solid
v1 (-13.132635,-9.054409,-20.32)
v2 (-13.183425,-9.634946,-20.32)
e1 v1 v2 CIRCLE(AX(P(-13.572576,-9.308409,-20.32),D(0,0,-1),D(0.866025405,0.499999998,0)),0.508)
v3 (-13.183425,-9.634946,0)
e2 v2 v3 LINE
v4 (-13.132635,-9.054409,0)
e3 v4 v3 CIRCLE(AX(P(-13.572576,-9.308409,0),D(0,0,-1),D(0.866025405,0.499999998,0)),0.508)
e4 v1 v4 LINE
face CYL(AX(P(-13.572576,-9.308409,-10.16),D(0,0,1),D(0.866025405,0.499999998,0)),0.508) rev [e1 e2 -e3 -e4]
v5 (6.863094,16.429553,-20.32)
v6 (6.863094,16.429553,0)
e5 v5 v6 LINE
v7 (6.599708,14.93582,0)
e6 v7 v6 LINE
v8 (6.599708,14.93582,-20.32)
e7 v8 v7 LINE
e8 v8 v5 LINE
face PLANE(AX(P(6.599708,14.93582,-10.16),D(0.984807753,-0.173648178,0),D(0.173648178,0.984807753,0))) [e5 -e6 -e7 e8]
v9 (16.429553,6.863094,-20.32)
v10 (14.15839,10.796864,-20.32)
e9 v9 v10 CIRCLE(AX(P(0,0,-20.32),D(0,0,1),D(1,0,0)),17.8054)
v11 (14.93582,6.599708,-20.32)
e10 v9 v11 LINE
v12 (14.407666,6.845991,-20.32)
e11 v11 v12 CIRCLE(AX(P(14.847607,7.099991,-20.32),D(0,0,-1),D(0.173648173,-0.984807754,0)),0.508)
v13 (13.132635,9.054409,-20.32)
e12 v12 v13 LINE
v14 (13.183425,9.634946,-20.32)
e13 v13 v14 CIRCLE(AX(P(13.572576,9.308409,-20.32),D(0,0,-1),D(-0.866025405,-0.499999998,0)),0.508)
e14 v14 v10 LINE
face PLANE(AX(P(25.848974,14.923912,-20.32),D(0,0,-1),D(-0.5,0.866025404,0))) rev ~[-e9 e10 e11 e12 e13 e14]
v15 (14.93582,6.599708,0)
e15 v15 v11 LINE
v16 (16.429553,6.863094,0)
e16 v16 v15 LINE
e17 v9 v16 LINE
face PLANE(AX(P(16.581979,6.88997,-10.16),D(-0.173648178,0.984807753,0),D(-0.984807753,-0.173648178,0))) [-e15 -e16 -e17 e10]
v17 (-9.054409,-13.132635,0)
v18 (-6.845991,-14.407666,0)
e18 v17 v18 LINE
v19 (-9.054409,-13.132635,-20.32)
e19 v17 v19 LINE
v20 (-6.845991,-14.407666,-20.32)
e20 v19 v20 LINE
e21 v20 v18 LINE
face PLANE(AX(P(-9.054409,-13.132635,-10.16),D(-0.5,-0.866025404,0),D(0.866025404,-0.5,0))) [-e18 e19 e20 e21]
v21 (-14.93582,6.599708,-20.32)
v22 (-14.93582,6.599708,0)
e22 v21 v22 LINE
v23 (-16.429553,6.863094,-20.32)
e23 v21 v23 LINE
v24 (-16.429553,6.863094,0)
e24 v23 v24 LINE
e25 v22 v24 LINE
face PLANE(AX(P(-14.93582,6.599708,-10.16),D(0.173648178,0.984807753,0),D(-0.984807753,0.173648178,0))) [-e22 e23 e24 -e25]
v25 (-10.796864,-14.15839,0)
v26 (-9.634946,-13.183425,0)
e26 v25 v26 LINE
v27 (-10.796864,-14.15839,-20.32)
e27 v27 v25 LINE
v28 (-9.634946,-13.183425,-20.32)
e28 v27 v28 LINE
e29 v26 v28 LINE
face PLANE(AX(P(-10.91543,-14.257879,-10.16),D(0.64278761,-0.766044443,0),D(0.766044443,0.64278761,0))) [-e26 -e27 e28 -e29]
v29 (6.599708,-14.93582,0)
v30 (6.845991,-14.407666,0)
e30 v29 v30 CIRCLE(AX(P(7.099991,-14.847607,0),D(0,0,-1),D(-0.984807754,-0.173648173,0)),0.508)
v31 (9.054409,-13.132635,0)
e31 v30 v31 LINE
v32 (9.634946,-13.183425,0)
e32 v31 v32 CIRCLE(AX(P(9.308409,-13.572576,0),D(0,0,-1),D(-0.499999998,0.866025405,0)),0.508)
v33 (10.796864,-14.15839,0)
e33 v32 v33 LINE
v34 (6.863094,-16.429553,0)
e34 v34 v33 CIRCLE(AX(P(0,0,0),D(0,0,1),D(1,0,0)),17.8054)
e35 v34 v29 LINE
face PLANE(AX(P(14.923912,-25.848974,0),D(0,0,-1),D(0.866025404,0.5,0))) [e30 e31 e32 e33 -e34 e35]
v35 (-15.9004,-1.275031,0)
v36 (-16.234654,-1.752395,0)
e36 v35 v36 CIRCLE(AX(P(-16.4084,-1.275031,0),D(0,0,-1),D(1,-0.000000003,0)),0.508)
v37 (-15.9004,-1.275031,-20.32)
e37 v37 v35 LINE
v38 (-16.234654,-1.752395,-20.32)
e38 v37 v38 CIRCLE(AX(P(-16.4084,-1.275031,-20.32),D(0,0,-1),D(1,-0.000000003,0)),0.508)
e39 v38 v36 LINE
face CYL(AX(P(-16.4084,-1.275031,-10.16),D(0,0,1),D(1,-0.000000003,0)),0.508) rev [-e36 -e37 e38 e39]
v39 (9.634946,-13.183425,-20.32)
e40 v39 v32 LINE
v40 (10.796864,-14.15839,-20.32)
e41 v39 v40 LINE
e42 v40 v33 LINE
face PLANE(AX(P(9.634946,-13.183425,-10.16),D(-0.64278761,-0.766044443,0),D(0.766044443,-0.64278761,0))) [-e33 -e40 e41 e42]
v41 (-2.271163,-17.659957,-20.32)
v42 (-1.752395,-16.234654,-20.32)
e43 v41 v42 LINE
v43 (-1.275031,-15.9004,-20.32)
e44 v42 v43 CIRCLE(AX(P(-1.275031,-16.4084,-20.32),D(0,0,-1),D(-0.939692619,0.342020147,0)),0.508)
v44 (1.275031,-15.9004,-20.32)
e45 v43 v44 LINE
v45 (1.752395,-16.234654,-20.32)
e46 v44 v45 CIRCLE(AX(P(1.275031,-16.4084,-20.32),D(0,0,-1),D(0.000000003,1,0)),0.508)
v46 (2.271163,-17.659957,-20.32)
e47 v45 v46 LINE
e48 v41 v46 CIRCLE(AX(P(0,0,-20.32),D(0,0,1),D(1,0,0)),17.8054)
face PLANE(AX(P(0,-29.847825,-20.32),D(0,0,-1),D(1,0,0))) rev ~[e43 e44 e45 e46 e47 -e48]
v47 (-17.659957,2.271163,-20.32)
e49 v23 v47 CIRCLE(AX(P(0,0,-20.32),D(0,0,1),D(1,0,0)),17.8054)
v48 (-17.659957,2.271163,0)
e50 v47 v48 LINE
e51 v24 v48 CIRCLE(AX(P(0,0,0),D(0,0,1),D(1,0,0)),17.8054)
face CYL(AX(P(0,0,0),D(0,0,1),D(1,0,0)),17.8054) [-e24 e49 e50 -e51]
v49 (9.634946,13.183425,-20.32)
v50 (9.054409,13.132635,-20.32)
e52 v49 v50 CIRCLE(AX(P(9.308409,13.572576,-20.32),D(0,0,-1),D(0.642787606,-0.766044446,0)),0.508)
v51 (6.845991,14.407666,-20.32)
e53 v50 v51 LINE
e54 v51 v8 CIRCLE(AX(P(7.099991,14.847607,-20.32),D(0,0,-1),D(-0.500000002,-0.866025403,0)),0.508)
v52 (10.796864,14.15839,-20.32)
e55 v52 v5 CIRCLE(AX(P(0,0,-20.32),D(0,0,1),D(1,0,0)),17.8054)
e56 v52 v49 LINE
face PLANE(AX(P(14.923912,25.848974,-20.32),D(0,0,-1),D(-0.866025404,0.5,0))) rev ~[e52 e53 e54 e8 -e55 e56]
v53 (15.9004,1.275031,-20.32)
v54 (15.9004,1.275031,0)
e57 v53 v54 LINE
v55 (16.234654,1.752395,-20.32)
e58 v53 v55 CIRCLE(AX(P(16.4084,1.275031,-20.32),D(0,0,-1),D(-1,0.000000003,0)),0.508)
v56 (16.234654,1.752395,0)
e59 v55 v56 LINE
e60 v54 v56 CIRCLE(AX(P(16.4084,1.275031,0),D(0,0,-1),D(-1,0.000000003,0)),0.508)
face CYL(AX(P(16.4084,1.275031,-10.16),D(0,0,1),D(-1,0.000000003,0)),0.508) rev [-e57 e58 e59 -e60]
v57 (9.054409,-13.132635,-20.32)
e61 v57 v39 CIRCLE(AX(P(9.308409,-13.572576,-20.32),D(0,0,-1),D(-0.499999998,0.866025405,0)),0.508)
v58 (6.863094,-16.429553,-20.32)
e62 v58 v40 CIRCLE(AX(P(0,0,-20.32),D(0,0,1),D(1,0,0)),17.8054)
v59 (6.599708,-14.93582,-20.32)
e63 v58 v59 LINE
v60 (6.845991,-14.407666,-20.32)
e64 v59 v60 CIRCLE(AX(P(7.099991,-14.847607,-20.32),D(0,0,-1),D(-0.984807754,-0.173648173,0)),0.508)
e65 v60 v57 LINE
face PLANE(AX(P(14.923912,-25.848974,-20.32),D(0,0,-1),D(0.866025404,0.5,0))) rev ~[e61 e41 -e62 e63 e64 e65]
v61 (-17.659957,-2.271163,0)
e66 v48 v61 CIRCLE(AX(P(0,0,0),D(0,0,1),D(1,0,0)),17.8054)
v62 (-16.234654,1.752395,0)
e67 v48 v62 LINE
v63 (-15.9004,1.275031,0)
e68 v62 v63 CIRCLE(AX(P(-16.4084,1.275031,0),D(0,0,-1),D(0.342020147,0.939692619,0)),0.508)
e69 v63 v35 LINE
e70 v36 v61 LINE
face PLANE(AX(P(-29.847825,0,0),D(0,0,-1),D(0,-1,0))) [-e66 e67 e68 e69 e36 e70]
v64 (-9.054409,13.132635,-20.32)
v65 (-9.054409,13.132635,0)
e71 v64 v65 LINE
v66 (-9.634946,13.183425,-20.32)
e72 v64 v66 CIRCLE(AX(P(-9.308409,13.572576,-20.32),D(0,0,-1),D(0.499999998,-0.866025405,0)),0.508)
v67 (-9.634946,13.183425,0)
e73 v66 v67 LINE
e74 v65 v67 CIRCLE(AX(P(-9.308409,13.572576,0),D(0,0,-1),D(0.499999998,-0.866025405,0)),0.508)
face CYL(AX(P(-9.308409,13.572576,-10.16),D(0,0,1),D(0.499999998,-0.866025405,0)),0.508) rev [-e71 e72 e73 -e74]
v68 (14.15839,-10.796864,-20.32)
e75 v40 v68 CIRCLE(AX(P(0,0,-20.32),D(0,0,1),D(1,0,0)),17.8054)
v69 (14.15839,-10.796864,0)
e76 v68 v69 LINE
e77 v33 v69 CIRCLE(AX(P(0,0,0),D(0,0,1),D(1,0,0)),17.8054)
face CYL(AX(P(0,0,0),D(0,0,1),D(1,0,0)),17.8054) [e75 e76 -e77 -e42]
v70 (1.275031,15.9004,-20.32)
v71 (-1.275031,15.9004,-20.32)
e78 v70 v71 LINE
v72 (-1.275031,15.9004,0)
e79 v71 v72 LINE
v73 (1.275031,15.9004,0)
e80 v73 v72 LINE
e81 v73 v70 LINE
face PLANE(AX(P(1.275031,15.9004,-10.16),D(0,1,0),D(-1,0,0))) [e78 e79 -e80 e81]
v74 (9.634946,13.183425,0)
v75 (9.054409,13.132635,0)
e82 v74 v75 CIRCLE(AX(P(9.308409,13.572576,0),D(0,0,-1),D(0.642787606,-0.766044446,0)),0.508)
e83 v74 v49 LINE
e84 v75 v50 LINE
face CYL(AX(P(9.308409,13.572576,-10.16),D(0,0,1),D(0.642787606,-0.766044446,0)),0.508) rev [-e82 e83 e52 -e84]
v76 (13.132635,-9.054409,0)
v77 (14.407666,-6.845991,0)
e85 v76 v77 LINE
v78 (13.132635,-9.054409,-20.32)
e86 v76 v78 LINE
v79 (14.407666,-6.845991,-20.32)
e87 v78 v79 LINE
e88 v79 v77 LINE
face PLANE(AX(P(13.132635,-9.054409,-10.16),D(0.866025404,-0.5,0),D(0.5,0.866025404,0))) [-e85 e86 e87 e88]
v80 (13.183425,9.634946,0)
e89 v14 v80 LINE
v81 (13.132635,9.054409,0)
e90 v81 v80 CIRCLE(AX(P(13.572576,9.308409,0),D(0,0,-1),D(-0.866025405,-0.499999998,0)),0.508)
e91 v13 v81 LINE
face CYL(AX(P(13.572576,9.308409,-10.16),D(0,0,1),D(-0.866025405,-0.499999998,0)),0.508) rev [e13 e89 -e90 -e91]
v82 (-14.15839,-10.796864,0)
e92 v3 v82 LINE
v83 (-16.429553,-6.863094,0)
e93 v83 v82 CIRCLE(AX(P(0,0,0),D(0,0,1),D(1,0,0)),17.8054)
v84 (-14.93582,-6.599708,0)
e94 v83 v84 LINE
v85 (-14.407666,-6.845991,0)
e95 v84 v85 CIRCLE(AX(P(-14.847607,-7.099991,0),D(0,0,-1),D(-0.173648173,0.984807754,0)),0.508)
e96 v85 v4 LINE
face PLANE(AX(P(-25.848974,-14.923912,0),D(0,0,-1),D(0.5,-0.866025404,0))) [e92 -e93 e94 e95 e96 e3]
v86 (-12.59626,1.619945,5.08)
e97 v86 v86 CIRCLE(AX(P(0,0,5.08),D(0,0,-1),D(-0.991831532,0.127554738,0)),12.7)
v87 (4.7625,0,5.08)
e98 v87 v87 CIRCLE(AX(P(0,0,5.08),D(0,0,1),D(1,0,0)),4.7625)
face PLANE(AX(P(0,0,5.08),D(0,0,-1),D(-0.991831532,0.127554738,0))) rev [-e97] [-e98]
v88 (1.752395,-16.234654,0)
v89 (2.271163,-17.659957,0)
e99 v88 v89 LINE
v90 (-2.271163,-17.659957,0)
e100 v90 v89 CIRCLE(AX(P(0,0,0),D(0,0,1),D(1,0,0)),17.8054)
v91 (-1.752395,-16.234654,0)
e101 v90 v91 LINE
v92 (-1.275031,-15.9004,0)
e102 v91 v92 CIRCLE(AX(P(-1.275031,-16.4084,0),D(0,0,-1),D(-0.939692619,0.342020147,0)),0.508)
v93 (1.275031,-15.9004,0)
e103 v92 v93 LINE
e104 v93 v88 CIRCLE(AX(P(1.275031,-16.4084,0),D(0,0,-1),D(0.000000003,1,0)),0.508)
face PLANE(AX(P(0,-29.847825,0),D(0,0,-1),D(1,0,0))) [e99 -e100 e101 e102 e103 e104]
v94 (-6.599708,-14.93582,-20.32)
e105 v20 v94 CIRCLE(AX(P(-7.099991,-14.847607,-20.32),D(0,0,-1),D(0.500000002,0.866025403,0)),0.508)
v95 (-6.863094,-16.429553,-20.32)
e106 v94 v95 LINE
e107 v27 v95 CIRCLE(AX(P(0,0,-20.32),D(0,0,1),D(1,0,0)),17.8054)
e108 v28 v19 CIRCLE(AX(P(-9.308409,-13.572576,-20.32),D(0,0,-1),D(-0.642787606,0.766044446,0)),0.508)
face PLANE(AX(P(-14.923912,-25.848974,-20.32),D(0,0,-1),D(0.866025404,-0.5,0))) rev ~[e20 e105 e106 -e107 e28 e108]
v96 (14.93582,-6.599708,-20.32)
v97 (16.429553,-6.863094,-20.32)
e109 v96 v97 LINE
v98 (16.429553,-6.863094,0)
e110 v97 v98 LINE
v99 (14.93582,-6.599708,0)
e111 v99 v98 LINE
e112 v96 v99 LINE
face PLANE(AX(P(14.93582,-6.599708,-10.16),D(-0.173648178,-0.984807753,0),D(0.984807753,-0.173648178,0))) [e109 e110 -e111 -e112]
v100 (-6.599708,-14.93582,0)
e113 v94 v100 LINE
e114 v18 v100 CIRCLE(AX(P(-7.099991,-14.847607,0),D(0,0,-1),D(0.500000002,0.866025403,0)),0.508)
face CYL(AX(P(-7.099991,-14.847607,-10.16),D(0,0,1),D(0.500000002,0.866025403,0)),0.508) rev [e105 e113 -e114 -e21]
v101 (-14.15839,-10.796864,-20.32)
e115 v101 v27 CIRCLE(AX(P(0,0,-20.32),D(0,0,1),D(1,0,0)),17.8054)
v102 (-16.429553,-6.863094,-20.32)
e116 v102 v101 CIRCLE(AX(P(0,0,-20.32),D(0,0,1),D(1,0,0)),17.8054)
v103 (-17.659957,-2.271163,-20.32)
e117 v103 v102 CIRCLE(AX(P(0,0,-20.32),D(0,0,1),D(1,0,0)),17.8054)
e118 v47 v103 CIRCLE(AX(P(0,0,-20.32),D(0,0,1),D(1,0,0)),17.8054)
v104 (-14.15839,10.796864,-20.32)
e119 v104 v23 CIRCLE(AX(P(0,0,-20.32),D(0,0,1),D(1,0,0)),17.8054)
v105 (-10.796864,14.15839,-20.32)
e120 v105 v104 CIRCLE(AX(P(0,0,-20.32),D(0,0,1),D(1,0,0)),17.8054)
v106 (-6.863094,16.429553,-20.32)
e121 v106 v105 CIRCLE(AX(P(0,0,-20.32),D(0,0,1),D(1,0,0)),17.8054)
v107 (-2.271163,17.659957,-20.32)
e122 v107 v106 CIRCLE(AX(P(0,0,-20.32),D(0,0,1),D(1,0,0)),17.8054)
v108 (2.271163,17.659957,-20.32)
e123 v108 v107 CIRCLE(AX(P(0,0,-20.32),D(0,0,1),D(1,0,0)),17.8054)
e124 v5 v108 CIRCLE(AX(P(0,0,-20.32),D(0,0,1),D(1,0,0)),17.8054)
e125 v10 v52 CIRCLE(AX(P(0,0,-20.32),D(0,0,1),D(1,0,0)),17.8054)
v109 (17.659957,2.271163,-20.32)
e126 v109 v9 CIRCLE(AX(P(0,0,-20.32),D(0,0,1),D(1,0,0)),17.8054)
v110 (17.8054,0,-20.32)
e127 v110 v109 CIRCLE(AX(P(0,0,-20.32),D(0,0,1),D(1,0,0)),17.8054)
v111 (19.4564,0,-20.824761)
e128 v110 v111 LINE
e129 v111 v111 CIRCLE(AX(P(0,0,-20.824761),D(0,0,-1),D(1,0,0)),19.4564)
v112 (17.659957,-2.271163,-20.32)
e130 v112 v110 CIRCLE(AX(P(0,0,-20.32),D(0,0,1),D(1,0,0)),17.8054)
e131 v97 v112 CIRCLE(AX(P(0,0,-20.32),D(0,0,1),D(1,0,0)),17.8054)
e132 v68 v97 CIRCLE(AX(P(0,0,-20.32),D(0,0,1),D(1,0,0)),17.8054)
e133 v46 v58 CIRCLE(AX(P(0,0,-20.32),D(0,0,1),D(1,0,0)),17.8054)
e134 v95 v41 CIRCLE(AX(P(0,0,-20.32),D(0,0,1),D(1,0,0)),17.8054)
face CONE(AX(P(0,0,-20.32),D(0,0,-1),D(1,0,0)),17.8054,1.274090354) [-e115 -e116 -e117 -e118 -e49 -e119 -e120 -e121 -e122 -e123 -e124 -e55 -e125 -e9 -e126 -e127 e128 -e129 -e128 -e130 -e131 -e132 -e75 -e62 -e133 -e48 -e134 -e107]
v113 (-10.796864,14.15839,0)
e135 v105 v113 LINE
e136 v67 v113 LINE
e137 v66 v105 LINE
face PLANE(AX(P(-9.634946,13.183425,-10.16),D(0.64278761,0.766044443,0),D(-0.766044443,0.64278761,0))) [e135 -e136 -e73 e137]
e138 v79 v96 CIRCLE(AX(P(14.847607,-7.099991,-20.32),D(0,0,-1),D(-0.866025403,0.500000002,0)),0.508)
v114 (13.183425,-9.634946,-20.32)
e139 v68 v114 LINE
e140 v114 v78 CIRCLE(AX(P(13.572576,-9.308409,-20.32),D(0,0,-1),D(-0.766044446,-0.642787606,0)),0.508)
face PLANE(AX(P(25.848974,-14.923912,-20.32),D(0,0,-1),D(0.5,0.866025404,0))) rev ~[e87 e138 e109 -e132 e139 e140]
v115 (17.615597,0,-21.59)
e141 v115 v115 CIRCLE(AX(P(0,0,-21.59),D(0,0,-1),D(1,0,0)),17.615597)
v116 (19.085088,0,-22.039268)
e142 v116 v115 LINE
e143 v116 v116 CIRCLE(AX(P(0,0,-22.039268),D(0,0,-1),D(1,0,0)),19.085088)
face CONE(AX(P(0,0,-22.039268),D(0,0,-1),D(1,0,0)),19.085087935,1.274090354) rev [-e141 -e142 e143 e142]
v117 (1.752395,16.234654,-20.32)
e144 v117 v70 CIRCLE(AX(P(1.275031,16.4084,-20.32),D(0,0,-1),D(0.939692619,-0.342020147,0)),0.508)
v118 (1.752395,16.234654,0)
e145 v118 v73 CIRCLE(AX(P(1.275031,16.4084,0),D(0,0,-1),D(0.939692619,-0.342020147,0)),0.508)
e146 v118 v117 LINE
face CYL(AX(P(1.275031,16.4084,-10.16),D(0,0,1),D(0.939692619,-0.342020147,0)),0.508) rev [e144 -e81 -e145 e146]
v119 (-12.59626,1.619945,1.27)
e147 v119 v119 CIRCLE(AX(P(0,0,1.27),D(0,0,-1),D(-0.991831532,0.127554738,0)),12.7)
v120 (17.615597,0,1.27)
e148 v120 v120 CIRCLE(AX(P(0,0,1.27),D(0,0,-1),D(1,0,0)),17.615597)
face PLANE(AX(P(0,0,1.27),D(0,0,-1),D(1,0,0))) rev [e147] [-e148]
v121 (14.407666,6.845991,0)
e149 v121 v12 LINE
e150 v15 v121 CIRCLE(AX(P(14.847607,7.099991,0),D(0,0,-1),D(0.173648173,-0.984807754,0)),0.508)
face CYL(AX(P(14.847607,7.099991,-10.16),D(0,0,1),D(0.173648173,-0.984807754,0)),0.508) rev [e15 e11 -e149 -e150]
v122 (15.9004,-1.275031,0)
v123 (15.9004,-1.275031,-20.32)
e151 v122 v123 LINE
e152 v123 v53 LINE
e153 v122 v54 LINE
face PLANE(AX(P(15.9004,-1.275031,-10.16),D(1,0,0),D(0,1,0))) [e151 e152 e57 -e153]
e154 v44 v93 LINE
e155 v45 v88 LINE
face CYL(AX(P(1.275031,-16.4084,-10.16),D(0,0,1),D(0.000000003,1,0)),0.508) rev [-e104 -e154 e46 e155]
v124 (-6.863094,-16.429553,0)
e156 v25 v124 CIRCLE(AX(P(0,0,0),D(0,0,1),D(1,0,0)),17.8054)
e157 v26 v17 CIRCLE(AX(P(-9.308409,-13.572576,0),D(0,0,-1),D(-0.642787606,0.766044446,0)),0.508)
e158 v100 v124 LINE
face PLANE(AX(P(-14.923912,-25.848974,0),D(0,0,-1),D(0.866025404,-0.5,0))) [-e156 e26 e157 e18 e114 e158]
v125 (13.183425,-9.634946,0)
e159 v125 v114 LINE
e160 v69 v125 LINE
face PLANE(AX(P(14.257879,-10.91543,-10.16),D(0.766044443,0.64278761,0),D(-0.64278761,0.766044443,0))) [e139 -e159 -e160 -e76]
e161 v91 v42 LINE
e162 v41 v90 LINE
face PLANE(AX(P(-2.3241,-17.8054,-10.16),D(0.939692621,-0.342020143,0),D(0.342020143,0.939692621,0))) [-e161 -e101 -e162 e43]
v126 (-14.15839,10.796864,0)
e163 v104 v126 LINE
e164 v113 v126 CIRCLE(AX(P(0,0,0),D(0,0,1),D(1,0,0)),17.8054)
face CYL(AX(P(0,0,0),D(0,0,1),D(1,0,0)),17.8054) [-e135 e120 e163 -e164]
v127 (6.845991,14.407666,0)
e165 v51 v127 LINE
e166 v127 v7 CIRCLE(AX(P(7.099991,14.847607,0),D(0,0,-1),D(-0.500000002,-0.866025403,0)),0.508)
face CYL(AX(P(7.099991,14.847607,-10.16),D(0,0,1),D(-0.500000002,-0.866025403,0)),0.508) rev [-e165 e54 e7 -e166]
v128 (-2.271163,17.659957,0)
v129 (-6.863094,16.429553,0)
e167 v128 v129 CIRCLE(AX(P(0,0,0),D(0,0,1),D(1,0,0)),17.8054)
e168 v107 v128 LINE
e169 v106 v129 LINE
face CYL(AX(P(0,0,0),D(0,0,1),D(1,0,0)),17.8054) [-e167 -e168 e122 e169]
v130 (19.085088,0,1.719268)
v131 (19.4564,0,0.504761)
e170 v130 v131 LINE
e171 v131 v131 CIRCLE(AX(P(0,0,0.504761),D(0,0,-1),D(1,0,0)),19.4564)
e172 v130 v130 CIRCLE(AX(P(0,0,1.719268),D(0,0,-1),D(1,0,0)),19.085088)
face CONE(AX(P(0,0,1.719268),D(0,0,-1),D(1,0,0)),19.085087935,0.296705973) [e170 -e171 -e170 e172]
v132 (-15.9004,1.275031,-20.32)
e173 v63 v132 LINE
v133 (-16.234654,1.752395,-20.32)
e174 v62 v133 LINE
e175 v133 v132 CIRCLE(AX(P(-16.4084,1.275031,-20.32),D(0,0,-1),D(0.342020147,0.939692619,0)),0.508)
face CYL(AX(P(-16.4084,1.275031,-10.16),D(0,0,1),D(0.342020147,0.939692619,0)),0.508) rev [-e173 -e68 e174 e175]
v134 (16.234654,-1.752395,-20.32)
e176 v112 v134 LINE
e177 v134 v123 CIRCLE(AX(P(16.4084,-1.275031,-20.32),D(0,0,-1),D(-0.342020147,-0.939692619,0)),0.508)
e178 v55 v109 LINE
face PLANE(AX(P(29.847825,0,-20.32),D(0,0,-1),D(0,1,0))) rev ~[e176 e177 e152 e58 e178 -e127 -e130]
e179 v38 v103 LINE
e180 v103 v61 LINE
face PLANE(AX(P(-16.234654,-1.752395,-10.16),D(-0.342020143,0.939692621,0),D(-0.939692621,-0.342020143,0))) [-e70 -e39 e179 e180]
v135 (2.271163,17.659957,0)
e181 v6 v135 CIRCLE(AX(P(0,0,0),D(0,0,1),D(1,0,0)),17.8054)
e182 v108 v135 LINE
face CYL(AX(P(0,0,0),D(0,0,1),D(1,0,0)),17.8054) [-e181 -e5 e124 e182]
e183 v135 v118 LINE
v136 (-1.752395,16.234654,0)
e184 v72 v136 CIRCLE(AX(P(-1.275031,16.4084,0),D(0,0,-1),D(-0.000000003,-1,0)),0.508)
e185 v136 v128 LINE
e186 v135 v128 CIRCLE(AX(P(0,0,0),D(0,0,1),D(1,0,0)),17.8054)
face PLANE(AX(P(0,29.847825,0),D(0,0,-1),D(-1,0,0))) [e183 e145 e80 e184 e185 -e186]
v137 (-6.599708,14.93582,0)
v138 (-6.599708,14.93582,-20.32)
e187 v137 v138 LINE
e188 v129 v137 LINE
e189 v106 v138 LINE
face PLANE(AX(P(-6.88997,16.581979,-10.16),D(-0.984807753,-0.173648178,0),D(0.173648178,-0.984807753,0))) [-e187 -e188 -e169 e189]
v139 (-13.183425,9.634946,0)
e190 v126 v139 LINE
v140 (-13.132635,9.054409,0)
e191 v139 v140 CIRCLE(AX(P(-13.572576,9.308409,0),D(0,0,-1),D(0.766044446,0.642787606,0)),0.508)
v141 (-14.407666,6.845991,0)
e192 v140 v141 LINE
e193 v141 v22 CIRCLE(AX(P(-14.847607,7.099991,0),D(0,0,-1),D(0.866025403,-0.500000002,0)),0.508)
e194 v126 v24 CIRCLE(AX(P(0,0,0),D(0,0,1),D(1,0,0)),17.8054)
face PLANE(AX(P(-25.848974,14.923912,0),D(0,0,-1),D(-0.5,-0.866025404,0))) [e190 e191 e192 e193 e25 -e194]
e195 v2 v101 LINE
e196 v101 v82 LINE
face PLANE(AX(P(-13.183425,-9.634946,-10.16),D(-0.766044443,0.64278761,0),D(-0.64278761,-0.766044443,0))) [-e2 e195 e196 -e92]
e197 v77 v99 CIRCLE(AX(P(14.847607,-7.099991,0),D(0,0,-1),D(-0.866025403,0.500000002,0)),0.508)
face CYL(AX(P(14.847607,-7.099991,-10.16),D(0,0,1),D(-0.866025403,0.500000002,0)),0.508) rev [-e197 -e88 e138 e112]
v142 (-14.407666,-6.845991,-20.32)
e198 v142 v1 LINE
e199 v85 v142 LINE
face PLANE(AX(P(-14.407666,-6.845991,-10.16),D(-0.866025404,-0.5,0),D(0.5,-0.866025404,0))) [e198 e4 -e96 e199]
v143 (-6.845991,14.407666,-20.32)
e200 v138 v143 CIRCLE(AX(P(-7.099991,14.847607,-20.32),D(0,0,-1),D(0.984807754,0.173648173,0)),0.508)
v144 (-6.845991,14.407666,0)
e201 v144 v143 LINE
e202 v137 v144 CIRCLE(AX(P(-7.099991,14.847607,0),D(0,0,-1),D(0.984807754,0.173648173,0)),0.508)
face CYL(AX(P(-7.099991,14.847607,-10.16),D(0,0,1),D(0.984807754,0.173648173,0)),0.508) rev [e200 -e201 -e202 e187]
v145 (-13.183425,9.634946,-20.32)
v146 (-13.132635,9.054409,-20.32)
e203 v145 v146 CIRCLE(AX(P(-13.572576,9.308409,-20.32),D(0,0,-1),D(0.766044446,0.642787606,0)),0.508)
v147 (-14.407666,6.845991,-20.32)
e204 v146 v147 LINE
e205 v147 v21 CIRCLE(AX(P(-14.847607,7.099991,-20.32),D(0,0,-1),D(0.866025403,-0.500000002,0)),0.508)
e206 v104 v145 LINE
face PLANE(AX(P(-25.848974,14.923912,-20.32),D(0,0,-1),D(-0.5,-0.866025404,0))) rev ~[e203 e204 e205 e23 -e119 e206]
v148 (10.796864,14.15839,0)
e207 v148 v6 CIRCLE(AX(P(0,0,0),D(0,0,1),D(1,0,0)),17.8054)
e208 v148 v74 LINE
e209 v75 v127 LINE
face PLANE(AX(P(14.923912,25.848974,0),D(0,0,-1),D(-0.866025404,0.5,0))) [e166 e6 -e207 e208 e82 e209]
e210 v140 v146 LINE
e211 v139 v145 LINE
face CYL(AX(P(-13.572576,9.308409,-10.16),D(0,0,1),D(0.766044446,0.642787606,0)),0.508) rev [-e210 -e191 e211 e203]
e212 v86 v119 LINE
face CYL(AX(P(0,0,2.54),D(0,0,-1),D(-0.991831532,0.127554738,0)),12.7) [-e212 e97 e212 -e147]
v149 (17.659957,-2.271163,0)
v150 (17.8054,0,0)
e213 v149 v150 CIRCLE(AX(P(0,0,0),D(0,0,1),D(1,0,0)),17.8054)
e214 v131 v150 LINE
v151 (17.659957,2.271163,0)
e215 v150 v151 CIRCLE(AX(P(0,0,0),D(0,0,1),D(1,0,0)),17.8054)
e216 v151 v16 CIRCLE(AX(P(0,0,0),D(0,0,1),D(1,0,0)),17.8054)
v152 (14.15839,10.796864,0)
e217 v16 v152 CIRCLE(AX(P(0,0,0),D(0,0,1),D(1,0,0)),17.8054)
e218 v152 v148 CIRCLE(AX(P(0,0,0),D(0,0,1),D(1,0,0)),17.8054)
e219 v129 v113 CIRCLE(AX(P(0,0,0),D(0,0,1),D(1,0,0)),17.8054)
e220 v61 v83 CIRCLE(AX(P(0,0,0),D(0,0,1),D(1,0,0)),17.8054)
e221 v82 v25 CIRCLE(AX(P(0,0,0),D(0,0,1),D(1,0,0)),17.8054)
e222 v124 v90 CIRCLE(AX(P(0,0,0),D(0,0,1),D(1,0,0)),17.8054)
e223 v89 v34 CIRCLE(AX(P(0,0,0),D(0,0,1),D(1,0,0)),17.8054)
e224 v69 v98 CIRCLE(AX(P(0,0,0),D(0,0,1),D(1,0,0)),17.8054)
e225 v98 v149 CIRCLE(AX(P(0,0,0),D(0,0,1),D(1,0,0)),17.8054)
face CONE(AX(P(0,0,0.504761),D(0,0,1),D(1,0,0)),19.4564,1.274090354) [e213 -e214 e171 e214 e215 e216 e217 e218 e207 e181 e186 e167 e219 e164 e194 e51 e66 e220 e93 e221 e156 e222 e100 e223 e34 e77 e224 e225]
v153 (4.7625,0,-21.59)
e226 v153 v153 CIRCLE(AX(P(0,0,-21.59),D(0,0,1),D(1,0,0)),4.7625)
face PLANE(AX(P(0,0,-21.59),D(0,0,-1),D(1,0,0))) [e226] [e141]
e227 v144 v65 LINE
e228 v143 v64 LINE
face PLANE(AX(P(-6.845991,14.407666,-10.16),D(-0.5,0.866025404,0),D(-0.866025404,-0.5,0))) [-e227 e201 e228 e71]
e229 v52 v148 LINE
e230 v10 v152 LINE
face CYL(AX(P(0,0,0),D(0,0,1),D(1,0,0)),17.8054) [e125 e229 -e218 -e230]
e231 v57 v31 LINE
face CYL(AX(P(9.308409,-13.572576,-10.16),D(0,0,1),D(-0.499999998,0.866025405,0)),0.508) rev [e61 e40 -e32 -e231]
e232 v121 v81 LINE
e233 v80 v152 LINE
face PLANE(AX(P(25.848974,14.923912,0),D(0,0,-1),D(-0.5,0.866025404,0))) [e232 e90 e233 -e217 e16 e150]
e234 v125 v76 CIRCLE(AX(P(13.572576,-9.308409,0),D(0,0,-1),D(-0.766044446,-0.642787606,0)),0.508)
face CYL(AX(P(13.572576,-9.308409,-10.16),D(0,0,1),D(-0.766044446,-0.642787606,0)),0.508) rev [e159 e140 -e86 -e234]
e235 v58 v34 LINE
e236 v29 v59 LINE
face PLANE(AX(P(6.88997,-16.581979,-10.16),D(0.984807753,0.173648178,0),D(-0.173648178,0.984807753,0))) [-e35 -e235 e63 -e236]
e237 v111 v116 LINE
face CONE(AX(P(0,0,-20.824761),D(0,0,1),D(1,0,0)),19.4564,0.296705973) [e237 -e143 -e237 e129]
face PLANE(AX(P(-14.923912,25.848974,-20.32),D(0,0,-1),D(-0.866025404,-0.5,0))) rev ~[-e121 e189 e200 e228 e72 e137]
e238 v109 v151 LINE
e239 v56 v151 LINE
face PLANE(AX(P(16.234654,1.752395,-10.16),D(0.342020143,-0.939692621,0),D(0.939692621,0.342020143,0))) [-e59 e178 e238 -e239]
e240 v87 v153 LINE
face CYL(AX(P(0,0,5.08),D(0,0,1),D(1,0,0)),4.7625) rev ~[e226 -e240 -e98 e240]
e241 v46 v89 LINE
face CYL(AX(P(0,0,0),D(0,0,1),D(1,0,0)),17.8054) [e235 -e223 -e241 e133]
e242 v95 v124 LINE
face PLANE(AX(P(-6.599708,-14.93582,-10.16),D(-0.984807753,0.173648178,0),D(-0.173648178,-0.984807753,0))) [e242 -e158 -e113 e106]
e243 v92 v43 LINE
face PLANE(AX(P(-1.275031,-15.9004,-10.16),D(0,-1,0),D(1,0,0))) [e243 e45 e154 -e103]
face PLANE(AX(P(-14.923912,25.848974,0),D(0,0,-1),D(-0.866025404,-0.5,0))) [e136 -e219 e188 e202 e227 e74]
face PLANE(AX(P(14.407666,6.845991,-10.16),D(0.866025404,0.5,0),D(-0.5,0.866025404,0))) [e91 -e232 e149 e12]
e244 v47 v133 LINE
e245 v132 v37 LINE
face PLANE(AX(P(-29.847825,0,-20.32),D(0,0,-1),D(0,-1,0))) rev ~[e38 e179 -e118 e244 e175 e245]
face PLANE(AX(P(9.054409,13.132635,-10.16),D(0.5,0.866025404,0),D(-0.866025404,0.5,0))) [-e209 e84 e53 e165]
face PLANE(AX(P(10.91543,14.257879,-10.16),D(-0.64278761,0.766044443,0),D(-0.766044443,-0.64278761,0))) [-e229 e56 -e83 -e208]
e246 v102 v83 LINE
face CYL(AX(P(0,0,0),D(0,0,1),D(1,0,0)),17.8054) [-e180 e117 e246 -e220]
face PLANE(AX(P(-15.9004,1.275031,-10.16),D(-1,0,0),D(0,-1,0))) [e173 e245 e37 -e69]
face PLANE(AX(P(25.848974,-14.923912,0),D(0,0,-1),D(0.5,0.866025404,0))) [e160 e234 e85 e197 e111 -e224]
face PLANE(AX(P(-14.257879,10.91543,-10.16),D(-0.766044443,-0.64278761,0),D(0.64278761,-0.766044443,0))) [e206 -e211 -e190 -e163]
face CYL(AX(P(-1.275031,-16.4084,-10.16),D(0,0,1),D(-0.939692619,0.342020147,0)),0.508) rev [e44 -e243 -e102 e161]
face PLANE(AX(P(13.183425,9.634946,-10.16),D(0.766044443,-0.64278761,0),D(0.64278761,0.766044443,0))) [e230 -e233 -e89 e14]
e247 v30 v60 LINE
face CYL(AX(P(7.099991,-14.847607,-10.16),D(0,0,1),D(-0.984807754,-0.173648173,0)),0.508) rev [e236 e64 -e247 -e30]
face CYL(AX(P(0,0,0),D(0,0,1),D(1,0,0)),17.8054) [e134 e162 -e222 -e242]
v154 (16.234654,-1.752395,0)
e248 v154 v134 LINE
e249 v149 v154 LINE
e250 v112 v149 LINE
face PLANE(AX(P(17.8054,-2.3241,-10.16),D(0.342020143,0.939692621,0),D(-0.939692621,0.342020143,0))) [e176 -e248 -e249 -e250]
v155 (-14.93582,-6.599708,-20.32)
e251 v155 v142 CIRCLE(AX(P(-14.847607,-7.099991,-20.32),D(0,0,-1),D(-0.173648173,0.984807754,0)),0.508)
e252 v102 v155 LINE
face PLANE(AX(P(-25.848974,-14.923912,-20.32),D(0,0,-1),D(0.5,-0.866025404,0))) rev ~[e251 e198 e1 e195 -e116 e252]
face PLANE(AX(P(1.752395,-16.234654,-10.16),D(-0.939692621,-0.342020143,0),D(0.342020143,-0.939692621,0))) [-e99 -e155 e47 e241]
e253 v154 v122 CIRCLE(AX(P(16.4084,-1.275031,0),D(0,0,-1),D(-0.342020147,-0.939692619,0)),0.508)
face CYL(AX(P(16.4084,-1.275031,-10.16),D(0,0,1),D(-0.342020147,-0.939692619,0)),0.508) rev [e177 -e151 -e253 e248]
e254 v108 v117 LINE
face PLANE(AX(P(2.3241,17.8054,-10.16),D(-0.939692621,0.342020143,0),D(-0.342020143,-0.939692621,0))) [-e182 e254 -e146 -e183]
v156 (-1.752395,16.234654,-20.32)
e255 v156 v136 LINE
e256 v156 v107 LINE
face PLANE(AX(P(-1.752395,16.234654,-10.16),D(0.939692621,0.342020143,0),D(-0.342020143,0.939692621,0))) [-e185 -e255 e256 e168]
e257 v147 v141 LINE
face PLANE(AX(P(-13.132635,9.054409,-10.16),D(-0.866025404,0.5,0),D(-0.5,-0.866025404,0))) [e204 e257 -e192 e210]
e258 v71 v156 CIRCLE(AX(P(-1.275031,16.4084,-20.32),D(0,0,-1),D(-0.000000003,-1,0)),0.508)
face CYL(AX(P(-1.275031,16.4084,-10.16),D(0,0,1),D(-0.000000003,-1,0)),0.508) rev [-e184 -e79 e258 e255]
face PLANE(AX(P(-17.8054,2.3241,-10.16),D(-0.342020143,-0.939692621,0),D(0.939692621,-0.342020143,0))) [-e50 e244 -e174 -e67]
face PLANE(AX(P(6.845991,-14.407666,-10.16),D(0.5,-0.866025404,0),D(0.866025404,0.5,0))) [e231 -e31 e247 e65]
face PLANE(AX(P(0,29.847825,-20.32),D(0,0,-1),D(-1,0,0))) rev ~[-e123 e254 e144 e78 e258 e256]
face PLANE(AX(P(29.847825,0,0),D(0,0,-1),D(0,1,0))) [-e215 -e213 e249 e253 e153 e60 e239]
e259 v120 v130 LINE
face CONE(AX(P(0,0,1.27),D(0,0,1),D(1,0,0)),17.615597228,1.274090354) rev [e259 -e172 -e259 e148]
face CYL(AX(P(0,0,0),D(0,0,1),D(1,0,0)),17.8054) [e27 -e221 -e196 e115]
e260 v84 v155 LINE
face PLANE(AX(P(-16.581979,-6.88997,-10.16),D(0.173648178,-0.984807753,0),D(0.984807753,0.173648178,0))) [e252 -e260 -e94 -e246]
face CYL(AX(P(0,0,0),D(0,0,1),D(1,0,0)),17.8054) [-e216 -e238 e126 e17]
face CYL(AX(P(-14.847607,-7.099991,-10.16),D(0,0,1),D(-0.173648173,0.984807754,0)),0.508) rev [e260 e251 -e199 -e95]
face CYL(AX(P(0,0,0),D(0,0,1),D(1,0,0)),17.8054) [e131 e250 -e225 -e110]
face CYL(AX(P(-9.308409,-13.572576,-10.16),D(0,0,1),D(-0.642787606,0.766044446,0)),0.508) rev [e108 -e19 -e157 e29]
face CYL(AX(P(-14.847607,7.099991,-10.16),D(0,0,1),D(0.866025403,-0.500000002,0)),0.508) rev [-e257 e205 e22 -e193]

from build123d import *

# Parameters (mm, degrees)
SKETCH1_R        = 17.8054
BASEPULLEY_DEPTH = 20.32
GROOVE_DEPTH     = 10.16
GROOVES_COUNT    = 12
GROOVES_ANGLE    = 330
SKETCH4_W        = 5.08
SKETCH4_H        = 12.7
BORSKE_R         = 4.7625
BORE_DEPTH       = 39.633634572


with BuildPart() as part:
    # Sketch1 → BasePulley (new body)
    with BuildSketch(Plane.XY):
        Circle(SKETCH1_R)
    extrude(amount=-BASEPULLEY_DEPTH)

    # Sketch2 → Flange (revolve)
    with BuildSketch(Plane(origin=(0, 0, 0), x_dir=(0, 0, -1), z_dir=(1, 0, 0)), mode=Mode.PRIVATE) as flange_sk:
        Polygon((20.32, 17.8054), (20.824761355, 19.4564), (22.039268395, 19.085087935), (21.59, 17.615597228), (21.59, 0), (-1.27, 0), (-1.27, 17.615597228), (-1.719268395, 19.085087935), (-0.504761355, 19.4564), (0, 17.8054), align=None)
    revolve(flange_sk.sketch.rotate(Axis((0, 0, 0), (0, 0, -1)), 90), axis=Axis((0, 0, 0), (0, 0, -1)))

    # Sketch3 → Groove (cut, symmetric)
    with BuildSketch(Plane.XY.offset(-10.16)):
        with BuildLine():
            Line((-2.3241, 17.8054), (-2.3241, 43.2054))
            Line((-2.3241, 43.2054), (2.3241, 43.2054))
            Line((2.3241, 43.2054), (2.3241, 17.8054))
            Line((2.3241, 17.8054), (1.752395126, 16.234653767))
            ThreePointArc((1.752395126, 16.234653767), (1.566408104, 15.992270762), (1.275031274, 15.9004))
            Line((1.275031274, 15.9004), (-1.275031274, 15.9004))
            ThreePointArc((-1.275031274, 15.9004), (-1.566408104, 15.992270762), (-1.752395126, 16.234653767))
            Line((-1.752395126, 16.234653767), (-2.3241, 17.8054))
        make_face()
    groove = extrude(amount=GROOVE_DEPTH, both=True, mode=Mode.SUBTRACT)

    # Grooves: Groove ×12 about axis
    grooves_axis = Axis((0, 0, -20.32), (0, 0, 1))
    for i in range(1, GROOVES_COUNT):
        add(groove.rotate(grooves_axis, i * GROOVES_ANGLE / (GROOVES_COUNT - 1)), mode=Mode.SUBTRACT)

    # Sketch4 → BaseHub (revolve)
    with BuildSketch(Plane(origin=(0, 0, 0), x_dir=(0, 0, -1), z_dir=(1, 0, 0)), mode=Mode.PRIVATE) as basehub_sk:
        with Locations((-2.54, 6.35)):
            Rectangle(SKETCH4_W, SKETCH4_H)
    revolve(basehub_sk.sketch.rotate(Axis((0, 0, 0), (0, 0, -1)), 277.328312747), axis=Axis((0, 0, 0), (0, 0, -1)))

    # BorSke → Bore (cut, through all)
    with BuildSketch(Plane.XY.offset(5.08)):
        Circle(BORSKE_R)
    extrude(amount=-BORE_DEPTH, mode=Mode.SUBTRACT)


solid = part.part
